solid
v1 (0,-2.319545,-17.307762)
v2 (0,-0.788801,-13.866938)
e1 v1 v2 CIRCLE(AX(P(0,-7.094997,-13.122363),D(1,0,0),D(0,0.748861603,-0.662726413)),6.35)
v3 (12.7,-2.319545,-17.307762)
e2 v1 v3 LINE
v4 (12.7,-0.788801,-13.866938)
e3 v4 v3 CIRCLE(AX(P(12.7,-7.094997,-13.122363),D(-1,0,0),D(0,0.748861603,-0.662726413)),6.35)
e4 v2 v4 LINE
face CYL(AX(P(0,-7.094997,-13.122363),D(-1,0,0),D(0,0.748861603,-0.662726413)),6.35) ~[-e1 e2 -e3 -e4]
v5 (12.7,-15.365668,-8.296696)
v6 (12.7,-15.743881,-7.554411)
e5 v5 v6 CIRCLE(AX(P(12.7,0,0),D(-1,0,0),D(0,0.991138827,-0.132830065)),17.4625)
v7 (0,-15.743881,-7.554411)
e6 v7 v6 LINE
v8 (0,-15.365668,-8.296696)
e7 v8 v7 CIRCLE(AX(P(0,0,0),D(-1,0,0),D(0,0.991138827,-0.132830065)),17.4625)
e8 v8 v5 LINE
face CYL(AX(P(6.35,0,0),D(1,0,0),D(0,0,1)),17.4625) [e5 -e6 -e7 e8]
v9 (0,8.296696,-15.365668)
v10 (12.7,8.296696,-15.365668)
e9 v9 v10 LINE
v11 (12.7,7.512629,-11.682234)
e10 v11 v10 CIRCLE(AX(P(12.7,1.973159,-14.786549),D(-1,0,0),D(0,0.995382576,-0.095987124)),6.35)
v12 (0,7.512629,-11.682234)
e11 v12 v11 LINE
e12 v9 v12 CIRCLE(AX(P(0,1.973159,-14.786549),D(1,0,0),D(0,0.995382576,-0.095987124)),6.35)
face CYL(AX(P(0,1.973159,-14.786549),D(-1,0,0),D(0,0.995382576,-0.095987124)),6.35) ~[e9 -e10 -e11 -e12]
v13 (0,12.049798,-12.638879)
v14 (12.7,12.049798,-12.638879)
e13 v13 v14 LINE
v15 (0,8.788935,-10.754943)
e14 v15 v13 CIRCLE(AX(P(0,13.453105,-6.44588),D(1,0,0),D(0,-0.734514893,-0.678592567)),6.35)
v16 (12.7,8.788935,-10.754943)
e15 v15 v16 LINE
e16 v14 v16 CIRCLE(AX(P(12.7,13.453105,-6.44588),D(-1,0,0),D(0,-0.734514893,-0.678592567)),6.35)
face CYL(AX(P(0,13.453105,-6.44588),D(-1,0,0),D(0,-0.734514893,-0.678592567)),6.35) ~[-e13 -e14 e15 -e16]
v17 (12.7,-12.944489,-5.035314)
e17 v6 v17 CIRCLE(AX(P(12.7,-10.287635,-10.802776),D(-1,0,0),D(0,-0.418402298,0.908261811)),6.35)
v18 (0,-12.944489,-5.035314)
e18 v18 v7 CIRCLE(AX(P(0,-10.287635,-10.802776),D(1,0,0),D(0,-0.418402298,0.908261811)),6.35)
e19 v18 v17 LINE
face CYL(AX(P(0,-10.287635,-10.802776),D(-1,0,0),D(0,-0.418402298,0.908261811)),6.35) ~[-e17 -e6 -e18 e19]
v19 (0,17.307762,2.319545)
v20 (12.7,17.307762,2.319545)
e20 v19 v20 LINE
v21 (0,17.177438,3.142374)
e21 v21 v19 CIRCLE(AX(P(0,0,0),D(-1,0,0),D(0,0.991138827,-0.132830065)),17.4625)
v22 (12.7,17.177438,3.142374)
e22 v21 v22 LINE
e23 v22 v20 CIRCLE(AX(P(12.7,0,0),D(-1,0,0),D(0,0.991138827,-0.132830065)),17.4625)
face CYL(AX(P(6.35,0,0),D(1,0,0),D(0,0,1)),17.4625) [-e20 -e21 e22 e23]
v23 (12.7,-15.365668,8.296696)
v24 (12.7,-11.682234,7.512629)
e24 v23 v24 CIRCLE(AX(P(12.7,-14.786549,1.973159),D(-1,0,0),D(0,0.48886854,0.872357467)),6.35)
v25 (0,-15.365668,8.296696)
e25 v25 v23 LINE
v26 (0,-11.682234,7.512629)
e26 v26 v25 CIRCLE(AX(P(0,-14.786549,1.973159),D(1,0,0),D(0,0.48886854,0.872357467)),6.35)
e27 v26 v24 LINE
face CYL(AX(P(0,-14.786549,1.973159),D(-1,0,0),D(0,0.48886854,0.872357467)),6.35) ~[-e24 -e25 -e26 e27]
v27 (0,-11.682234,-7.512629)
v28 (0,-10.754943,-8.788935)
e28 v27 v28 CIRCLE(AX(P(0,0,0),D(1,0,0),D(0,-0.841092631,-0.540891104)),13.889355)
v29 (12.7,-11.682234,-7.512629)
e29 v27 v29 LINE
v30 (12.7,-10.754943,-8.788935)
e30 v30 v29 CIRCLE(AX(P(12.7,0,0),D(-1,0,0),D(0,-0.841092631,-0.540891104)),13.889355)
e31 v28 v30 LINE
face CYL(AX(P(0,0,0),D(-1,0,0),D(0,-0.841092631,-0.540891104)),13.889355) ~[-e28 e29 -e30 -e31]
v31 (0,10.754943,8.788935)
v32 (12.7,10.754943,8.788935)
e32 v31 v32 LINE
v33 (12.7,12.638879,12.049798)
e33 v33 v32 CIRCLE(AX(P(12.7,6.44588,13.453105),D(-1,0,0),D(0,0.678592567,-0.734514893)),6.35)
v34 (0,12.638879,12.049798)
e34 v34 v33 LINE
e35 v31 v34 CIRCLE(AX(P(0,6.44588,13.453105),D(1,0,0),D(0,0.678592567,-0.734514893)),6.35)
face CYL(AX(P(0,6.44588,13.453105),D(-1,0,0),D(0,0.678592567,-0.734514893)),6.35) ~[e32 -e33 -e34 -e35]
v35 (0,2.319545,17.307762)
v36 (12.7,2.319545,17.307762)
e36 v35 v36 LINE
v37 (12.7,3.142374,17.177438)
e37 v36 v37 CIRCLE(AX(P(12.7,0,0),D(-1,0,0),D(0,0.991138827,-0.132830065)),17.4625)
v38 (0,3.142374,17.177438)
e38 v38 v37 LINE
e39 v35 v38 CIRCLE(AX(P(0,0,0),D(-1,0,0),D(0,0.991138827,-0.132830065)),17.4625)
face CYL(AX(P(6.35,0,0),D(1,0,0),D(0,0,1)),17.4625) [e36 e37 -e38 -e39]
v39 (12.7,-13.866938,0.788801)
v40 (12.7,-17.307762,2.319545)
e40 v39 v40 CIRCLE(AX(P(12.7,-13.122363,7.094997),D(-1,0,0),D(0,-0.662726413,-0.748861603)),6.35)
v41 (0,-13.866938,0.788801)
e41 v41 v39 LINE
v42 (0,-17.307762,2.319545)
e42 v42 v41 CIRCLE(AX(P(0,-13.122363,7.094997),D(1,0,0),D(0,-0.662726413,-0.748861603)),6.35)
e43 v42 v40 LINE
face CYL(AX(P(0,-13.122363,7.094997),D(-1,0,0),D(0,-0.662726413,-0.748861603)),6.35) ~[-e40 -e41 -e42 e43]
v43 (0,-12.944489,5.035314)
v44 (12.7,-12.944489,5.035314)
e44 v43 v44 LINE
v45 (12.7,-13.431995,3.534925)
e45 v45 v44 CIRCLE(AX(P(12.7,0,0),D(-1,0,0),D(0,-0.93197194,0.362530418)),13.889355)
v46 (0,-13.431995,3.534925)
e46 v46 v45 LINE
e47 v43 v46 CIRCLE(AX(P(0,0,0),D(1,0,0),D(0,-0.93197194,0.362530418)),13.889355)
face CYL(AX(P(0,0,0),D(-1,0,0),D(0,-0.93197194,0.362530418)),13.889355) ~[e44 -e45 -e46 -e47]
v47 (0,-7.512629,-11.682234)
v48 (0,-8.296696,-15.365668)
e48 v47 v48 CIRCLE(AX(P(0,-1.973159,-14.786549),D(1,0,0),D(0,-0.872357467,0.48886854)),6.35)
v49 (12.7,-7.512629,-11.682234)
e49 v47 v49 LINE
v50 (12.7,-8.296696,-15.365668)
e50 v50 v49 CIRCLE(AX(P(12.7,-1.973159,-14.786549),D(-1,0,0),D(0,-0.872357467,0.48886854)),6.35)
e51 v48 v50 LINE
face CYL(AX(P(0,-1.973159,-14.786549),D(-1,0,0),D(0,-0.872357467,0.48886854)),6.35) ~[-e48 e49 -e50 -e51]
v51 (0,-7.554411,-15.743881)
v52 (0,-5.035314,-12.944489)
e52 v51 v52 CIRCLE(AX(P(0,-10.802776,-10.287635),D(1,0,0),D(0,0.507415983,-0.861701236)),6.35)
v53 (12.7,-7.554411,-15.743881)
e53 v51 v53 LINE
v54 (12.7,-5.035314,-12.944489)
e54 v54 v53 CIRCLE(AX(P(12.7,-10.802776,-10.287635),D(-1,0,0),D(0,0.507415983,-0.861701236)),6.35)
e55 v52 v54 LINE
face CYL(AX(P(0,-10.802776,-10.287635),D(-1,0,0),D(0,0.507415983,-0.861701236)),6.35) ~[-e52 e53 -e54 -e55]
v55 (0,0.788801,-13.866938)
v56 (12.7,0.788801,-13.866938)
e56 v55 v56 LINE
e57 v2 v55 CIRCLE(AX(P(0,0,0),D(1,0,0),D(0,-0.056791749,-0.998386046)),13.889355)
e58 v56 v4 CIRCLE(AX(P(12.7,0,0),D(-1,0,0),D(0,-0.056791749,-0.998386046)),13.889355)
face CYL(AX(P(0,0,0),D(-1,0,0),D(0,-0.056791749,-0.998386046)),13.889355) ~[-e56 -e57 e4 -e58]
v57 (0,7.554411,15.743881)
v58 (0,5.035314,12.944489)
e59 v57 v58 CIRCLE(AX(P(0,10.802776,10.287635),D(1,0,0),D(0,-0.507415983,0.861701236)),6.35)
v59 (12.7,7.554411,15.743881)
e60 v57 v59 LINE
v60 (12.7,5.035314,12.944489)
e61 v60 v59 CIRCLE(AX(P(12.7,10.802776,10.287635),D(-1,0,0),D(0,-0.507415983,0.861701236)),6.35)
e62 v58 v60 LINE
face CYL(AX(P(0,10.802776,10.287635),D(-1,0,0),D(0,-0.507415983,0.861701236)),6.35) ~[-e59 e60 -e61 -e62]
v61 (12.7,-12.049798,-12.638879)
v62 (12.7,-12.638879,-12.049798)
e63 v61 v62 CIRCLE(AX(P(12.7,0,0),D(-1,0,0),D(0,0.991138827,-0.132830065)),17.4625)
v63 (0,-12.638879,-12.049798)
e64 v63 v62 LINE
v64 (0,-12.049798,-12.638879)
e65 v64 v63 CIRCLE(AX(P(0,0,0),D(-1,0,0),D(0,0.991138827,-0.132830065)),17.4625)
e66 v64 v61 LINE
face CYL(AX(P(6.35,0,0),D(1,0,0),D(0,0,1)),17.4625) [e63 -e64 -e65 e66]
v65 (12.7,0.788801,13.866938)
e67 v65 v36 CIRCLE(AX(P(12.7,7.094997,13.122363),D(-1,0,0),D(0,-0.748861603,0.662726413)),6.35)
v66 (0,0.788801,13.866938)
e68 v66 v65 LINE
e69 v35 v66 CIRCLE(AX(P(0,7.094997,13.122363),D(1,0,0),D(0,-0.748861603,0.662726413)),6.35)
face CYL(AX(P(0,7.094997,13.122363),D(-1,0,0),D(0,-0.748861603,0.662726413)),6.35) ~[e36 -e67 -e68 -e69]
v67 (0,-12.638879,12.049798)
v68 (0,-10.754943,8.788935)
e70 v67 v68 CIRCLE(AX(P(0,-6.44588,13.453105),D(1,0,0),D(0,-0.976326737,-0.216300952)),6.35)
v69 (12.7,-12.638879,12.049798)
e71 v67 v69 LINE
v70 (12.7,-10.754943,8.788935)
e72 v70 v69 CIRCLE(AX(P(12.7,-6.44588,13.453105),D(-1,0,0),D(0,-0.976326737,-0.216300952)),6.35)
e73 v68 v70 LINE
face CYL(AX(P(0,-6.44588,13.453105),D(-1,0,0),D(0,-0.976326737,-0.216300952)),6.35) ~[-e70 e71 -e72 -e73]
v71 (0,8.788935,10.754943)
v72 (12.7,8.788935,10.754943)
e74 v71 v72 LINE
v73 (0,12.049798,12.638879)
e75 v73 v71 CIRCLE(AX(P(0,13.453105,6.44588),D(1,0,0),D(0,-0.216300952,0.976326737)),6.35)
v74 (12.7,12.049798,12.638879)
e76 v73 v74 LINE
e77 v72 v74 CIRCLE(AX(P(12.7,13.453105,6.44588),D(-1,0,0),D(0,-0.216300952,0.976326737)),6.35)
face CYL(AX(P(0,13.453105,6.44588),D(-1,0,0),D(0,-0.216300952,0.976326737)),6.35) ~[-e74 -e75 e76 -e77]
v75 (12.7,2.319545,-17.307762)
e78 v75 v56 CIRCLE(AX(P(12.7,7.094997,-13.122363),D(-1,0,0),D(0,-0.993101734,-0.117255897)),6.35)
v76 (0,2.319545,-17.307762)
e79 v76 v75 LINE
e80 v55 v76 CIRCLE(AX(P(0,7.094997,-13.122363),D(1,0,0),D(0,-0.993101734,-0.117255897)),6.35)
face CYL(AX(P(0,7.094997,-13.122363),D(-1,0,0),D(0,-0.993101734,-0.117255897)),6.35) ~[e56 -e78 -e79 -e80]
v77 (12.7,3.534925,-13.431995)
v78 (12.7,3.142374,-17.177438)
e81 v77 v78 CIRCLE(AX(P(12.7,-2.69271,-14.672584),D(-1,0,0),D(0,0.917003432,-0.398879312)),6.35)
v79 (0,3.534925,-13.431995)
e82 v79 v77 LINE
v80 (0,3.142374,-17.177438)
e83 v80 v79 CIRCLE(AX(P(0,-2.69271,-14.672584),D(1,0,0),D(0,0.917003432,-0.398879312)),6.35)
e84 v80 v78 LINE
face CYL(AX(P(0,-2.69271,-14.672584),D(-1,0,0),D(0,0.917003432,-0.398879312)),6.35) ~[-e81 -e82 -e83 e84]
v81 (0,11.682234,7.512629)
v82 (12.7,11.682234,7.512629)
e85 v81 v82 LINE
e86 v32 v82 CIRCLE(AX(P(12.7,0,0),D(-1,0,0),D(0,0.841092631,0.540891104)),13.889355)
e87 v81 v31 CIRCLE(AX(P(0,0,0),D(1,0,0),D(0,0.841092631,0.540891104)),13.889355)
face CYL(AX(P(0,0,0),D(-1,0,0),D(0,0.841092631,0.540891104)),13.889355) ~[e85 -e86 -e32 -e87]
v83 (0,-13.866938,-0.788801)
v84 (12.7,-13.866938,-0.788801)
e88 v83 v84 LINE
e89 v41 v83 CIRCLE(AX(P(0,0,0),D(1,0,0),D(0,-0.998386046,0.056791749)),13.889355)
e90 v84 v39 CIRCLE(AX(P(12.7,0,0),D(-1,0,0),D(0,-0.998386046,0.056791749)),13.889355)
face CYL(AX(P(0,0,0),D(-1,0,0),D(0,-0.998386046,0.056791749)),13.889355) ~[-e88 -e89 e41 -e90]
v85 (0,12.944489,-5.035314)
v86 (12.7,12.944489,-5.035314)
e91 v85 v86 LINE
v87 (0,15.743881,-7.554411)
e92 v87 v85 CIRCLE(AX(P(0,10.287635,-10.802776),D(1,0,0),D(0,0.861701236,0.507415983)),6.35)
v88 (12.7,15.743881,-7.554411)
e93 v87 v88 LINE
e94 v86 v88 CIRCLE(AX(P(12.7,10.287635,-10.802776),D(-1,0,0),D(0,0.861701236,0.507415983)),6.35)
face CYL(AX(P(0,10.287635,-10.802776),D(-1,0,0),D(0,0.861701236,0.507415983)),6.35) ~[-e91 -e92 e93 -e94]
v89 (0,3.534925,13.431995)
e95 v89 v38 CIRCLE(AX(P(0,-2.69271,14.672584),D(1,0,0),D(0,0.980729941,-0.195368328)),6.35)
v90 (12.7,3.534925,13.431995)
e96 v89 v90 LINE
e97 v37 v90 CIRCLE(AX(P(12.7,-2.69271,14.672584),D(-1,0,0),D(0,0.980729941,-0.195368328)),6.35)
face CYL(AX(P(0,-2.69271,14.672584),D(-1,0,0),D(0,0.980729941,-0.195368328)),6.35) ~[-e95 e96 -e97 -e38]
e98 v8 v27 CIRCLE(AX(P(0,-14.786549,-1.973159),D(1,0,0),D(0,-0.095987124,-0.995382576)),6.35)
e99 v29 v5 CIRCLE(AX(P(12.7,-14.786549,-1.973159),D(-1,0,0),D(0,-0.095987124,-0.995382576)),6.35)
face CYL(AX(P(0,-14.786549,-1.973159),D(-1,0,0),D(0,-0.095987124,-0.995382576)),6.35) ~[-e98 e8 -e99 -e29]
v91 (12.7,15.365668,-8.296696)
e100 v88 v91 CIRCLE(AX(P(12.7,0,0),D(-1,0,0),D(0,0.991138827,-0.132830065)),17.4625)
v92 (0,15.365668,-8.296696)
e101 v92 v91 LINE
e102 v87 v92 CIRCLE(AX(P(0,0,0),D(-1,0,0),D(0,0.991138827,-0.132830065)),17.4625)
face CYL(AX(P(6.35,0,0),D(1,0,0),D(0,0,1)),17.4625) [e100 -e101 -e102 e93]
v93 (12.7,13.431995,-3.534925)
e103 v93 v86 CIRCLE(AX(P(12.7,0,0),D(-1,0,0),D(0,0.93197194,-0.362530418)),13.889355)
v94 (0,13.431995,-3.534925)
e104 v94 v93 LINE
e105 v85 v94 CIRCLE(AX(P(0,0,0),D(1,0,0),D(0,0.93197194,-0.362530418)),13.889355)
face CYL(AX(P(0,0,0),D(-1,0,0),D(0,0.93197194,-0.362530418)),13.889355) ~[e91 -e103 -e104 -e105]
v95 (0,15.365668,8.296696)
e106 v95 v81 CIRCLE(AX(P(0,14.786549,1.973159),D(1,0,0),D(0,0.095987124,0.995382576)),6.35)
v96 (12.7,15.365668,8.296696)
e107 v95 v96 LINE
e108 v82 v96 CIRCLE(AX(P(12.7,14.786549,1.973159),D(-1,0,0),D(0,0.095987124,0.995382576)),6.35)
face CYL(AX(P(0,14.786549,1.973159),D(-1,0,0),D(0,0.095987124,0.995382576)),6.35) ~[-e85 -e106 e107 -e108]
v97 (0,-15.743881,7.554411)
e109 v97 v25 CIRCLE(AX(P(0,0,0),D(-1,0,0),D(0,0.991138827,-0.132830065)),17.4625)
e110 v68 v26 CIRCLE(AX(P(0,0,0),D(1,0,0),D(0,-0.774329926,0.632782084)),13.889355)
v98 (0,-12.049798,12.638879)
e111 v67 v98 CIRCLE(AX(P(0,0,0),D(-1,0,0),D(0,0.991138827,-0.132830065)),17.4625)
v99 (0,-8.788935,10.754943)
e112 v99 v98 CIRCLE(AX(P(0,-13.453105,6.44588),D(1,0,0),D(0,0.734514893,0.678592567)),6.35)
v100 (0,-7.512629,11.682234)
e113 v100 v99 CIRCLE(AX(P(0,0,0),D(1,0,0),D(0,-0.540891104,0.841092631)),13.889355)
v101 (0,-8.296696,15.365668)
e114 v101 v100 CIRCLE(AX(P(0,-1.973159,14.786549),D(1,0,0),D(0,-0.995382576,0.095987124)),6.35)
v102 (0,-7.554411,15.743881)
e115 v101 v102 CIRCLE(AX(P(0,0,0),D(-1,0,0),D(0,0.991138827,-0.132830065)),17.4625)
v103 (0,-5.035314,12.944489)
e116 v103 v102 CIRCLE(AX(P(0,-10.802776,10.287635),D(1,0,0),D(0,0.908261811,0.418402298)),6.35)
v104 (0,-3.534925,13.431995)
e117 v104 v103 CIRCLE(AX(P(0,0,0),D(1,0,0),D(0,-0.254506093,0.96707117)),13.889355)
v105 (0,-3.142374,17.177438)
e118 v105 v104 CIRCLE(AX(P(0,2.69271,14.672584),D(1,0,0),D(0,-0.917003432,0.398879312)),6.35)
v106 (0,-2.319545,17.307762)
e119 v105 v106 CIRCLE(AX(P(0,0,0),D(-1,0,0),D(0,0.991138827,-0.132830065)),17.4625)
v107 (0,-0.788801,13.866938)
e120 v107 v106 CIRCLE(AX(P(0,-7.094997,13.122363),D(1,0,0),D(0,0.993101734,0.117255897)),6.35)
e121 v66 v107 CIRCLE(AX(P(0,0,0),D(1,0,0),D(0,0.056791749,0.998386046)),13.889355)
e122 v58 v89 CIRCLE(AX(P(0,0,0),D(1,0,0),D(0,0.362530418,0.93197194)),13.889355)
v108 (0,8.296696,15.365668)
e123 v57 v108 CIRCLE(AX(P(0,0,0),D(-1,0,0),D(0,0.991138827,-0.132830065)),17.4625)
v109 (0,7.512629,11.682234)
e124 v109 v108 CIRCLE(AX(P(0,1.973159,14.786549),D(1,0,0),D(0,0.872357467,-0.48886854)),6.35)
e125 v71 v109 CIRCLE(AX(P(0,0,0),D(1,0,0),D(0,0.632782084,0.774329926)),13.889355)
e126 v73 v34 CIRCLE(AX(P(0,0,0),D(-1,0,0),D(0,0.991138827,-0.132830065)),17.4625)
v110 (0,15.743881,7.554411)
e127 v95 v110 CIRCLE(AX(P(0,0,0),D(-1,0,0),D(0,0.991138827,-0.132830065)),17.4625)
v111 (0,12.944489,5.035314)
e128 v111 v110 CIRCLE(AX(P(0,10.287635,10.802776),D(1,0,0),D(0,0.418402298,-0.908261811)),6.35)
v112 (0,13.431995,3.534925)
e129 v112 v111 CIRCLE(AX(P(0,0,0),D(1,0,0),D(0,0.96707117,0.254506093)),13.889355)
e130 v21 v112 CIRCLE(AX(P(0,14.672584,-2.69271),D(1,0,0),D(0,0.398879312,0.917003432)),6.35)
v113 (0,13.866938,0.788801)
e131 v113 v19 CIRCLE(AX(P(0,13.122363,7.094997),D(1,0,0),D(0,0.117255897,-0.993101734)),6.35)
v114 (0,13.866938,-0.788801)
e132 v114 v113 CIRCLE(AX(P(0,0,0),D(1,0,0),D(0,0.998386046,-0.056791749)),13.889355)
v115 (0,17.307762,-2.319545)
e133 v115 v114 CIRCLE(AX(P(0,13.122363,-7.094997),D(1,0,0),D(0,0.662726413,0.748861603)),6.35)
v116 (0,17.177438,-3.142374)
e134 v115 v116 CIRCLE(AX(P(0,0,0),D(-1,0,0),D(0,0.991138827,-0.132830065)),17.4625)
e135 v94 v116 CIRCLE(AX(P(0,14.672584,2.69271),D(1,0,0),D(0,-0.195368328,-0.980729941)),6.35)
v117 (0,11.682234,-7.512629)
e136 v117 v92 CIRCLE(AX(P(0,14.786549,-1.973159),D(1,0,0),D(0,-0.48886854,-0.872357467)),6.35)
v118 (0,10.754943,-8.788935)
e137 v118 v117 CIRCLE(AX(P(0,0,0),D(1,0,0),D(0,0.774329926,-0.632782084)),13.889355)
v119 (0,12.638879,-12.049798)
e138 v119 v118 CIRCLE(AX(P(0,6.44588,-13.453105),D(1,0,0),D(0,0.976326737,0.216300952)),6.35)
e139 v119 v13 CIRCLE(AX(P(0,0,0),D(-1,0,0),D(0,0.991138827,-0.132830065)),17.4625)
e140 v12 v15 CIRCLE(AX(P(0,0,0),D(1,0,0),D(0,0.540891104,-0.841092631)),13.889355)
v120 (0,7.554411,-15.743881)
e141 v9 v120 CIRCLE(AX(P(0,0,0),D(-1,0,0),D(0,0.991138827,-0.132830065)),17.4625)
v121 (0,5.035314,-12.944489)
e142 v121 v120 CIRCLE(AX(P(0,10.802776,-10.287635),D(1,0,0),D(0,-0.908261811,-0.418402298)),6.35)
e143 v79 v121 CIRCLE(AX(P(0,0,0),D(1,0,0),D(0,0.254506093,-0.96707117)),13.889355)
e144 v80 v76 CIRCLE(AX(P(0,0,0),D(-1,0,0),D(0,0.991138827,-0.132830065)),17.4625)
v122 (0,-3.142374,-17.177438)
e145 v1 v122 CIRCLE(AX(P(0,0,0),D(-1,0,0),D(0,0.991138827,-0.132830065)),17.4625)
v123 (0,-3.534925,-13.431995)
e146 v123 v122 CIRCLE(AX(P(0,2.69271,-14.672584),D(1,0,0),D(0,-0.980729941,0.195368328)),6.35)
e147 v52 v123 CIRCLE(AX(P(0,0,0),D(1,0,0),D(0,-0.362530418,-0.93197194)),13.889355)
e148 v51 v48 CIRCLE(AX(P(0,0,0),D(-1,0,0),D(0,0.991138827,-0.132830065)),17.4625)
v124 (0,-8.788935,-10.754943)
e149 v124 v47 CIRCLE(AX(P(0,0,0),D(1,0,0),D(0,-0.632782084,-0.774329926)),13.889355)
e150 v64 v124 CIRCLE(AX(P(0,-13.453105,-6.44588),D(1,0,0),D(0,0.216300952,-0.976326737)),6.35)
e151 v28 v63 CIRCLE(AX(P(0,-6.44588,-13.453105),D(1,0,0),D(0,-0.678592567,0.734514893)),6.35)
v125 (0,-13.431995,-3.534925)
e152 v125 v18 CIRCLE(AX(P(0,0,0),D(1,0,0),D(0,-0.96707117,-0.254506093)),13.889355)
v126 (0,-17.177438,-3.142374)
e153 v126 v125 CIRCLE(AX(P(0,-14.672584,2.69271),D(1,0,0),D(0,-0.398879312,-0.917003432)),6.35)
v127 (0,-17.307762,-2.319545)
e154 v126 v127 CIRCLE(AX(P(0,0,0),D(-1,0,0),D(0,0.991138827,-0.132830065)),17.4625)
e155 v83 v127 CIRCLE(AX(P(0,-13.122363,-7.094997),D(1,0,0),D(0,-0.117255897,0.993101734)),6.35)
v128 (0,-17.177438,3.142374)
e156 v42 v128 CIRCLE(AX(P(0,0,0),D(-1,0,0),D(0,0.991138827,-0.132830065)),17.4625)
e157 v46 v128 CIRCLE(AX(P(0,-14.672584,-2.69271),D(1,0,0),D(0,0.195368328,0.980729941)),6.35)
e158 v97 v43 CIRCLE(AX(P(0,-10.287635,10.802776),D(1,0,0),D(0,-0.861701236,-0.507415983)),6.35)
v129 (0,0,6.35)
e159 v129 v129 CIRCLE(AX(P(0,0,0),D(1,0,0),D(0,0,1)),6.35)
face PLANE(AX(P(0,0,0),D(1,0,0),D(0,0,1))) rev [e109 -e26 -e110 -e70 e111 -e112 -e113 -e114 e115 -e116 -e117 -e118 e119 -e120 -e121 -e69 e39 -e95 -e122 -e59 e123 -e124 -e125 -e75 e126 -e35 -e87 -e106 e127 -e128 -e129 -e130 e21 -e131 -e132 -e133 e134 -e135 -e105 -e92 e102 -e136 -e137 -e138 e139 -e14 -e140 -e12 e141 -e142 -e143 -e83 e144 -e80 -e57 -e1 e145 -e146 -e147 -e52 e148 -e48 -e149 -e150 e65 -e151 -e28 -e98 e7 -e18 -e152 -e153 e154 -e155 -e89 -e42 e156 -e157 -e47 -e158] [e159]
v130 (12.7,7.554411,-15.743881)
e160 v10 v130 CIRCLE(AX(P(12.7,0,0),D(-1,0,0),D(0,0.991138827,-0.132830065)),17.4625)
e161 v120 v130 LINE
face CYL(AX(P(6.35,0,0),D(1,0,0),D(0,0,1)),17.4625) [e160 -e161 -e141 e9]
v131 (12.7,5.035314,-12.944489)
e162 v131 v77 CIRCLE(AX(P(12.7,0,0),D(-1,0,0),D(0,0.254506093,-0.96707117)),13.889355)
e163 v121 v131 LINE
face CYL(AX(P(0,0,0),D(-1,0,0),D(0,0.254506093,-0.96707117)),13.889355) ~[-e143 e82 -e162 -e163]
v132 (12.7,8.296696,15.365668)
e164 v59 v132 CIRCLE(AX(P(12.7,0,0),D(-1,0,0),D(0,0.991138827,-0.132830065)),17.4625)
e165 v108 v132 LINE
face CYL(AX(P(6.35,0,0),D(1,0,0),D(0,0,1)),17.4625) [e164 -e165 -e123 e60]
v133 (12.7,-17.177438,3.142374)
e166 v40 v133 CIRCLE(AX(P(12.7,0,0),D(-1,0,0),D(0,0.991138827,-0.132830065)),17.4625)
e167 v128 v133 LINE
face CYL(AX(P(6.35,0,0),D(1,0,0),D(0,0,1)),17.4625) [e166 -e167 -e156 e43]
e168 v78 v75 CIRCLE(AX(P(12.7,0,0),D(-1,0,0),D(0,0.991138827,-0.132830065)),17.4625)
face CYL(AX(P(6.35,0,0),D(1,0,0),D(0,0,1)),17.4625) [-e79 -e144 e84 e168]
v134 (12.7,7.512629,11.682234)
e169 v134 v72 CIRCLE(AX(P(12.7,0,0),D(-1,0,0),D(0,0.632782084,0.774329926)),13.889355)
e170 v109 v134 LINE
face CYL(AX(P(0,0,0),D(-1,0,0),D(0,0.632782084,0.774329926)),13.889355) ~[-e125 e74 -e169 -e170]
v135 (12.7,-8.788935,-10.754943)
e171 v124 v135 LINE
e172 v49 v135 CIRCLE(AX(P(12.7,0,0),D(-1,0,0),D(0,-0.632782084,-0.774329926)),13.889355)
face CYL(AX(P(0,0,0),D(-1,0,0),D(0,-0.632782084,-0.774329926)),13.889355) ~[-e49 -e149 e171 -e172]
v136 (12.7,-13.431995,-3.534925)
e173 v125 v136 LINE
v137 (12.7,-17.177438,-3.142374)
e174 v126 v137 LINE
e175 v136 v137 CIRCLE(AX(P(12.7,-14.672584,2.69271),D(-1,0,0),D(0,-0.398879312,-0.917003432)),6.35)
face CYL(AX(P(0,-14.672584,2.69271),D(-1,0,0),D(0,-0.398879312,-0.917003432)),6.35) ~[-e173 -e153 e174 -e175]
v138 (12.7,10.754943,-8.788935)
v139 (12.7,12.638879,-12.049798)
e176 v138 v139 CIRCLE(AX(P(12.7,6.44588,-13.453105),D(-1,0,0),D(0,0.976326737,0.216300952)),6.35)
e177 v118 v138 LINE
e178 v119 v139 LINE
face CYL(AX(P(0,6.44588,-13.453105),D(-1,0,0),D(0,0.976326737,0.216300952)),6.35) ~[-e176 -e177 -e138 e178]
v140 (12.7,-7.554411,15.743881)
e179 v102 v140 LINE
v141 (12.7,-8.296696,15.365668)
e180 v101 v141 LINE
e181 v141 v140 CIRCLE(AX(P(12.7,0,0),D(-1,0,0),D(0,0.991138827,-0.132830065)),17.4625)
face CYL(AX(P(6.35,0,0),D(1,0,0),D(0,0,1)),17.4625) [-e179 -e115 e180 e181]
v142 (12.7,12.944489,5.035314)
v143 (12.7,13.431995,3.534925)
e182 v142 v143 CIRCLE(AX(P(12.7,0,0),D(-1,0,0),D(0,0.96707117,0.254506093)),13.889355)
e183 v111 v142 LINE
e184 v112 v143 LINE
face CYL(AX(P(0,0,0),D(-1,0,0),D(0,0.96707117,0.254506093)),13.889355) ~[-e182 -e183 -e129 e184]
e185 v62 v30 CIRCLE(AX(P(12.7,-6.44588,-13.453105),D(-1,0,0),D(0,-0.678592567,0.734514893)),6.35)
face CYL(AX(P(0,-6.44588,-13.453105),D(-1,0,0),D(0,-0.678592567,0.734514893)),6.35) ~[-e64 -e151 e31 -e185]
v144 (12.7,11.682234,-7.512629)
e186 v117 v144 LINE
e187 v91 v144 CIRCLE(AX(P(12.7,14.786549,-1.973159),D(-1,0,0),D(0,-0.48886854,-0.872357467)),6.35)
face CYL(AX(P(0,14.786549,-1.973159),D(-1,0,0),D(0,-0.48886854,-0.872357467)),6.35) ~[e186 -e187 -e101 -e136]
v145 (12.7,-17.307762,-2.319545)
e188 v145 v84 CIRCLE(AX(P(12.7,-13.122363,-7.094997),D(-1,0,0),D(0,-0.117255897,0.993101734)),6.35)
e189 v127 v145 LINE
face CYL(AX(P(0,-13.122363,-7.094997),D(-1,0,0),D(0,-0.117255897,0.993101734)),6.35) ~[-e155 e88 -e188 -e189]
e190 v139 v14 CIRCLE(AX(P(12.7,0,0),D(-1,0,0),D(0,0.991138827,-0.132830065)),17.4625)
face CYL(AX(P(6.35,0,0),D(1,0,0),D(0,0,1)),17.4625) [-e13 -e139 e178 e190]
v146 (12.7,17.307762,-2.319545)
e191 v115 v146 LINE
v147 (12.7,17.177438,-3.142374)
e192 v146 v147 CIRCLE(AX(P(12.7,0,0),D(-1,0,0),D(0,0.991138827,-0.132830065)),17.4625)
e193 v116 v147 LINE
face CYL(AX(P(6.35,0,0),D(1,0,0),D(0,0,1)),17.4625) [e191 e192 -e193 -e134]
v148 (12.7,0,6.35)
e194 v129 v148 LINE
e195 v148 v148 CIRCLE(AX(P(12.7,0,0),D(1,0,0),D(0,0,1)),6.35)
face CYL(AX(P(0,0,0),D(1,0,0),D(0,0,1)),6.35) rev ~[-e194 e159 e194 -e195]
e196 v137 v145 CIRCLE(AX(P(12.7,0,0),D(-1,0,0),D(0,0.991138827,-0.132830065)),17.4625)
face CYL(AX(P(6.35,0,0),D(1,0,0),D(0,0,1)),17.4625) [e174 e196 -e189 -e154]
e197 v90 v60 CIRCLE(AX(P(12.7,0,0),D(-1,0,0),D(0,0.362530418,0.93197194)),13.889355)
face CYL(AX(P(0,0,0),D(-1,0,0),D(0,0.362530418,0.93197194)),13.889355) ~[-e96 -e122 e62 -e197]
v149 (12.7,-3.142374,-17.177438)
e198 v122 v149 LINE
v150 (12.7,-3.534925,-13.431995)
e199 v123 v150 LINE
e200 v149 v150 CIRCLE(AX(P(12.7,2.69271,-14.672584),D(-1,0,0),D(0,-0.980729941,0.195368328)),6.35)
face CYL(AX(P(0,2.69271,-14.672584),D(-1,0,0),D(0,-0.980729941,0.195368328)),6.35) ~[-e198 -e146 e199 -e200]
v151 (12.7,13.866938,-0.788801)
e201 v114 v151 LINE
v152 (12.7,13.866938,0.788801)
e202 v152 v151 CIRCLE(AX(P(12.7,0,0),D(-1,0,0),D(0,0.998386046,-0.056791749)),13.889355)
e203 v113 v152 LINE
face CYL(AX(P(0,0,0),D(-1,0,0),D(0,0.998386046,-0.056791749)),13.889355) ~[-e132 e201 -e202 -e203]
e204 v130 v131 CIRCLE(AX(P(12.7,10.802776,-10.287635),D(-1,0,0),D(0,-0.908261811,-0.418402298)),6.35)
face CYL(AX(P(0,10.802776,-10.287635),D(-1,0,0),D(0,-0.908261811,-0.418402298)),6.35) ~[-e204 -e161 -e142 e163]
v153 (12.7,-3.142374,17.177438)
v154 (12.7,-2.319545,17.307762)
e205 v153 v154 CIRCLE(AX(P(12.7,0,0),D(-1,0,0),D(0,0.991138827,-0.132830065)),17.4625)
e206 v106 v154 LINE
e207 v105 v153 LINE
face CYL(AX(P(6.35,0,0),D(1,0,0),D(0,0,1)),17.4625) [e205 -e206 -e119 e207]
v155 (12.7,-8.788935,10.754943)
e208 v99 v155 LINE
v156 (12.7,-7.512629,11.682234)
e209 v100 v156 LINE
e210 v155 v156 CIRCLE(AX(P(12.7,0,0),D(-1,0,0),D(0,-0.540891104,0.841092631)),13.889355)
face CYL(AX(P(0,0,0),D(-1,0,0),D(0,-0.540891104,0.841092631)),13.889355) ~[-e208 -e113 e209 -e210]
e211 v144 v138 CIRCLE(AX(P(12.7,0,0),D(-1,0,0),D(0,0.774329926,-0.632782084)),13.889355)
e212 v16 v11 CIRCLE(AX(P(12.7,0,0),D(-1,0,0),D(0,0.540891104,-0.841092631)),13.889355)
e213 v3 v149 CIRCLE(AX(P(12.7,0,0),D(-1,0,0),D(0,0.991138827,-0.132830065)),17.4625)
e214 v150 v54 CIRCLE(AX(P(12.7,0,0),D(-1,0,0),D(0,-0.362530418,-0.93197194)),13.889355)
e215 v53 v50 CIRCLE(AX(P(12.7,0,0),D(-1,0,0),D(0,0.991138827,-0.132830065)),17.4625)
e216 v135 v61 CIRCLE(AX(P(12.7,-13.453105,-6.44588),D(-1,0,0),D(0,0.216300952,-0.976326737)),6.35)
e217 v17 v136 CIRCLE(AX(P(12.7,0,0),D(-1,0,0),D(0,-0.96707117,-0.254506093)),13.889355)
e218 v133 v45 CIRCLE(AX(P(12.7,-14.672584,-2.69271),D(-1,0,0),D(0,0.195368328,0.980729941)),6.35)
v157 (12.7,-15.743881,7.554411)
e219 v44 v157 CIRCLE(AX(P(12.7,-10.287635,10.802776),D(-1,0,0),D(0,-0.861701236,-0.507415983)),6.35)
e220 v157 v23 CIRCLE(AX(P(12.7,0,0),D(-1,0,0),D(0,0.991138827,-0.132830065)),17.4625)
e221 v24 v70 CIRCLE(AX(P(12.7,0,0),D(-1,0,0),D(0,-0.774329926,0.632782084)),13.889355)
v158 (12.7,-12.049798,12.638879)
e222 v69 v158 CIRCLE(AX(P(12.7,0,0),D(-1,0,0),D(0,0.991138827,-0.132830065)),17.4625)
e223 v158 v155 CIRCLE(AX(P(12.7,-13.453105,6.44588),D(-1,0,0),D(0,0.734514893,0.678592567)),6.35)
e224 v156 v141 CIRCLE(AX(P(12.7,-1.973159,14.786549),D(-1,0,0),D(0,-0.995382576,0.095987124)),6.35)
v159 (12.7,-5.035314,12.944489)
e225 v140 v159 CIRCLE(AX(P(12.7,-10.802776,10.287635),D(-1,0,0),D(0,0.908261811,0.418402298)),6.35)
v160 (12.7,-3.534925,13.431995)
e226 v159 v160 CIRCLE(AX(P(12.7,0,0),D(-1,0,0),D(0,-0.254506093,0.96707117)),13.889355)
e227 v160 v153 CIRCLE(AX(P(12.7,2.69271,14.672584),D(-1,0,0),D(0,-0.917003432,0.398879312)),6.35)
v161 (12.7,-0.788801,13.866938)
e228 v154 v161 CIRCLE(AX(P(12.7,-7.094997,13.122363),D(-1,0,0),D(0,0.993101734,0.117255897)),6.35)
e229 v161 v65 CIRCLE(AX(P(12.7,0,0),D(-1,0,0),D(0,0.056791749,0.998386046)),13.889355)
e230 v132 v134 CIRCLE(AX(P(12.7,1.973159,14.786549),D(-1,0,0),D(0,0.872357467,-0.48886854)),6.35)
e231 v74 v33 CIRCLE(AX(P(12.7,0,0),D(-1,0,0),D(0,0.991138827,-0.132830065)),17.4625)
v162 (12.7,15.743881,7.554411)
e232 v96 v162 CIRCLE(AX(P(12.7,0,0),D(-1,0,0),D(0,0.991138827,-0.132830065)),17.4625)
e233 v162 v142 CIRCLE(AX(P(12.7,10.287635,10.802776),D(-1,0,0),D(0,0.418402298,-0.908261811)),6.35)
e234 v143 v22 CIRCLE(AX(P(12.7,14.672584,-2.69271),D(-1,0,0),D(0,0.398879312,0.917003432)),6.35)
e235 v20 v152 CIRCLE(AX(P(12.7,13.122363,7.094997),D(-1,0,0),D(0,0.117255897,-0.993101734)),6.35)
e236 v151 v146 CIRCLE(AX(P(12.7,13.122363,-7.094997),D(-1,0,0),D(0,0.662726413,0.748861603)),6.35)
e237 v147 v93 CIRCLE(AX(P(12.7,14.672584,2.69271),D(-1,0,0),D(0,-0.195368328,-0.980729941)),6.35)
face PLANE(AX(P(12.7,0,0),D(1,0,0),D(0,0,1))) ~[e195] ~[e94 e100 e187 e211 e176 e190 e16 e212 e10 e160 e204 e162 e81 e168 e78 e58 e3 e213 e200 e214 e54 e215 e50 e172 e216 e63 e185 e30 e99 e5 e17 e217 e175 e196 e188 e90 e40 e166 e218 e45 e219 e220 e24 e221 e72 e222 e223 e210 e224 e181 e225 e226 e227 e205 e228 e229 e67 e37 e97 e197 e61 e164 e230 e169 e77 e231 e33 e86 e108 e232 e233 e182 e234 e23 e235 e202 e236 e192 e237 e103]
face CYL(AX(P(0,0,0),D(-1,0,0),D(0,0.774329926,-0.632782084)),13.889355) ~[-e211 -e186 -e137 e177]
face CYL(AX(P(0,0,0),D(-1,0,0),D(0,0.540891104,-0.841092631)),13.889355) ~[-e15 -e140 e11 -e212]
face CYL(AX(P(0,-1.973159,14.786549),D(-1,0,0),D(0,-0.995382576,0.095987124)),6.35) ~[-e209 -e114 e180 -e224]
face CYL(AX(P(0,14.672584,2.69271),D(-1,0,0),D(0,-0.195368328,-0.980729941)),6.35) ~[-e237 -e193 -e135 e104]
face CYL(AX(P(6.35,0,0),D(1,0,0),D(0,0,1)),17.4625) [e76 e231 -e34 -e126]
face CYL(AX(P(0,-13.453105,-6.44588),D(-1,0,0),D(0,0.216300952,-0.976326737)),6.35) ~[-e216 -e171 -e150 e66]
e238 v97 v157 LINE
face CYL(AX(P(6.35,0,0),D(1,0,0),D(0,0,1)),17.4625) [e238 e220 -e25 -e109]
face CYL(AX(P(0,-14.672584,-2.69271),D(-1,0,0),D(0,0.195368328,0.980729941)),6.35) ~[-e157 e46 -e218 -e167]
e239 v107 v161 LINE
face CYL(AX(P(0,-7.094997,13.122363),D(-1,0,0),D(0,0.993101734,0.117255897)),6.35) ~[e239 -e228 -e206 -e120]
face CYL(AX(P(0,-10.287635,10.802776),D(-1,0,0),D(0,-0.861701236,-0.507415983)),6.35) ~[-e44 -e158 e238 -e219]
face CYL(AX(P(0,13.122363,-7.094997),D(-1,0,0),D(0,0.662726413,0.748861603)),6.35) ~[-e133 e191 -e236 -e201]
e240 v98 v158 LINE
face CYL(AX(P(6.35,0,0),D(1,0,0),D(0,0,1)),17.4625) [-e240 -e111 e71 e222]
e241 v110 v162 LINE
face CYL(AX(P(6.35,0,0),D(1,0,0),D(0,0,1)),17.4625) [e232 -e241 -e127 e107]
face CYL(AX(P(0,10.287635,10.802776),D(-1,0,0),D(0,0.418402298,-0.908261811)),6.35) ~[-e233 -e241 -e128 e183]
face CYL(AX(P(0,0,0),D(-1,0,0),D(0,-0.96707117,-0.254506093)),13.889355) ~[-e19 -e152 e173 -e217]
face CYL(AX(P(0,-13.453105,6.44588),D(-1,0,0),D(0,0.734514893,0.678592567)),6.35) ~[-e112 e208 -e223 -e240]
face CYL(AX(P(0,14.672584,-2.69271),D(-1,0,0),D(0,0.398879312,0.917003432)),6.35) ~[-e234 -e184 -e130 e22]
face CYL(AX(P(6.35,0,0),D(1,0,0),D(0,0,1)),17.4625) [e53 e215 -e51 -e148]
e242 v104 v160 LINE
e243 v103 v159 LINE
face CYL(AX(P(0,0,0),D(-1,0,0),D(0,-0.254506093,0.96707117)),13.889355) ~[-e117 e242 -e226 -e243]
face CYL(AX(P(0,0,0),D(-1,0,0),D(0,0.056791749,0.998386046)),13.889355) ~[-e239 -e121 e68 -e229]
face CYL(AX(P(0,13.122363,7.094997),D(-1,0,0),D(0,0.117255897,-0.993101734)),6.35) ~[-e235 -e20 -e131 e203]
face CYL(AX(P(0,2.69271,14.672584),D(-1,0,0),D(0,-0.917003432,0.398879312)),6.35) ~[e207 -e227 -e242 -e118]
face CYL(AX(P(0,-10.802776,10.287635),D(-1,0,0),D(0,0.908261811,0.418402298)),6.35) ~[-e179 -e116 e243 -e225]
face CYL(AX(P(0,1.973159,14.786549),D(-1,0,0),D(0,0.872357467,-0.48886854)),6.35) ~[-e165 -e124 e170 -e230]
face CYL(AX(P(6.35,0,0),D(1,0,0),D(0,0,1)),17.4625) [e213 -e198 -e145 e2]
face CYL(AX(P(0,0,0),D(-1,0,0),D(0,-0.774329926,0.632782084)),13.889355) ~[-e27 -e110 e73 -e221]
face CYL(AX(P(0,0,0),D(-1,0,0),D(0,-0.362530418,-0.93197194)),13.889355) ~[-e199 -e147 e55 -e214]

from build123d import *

# Parameters (mm, degrees)
BASPROSKE_W     = 12.7
BASPROSKE_H     = 17.4625
TOOTHCUT_DEPTH  = 28.769908399
TEETHCUTS_COUNT = 20
TEETHCUTS_ANGLE = 342
BORSKE_R        = 6.35
BORE_DEPTH      = 50.8000508


with BuildPart() as part:
    # BasProSke → Base-Revolve (revolve)
    with BuildSketch(Plane(origin=(0, 0, 0), x_dir=(1, 0, 0), z_dir=(0, 1, 0)), mode=Mode.PRIVATE) as base_revolve_sk:
        with Locations((6.35, 8.73125)):
            Rectangle(BASPROSKE_W, BASPROSKE_H)
    revolve(base_revolve_sk.sketch.rotate(Axis((-10, 0, 0), (1, 0, 0)), 180), axis=Axis((-10, 0, 0), (1, 0, 0)))

    # TooCutSke → ToothCut (cut, through all)
    with BuildSketch(Plane(origin=(0, 0, 0), x_dir=(0, 0, -1), z_dir=(1, 0, 0))):
        with BuildLine():
            ThreePointArc((0.788800759, 13.866938223), (0, 13.889355), (-0.788800759, 13.866938223))
            ThreePointArc((-0.788800759, 13.866938223), (-1.299448137, 15.717380814), (-2.339725589, 17.330675999))
            ThreePointArc((-2.339725589, 17.330675999), (0, 17.4879), (2.339725589, 17.330675999))
            ThreePointArc((2.339725589, 17.330675999), (1.299448137, 15.717380814), (0.788800759, 13.866938223))
        make_face()
    toothcut = extrude(amount=TOOTHCUT_DEPTH, mode=Mode.SUBTRACT)

    # TeethCuts: ToothCut ×20 about axis
    teethcuts_axis = Axis((-10, 0, 0), (1, 0, 0))
    for i in range(1, TEETHCUTS_COUNT):
        add(toothcut.rotate(teethcuts_axis, i * TEETHCUTS_ANGLE / (TEETHCUTS_COUNT - 1)), mode=Mode.SUBTRACT)

    # BorSke → Bore (cut, symmetric)
    with BuildSketch(Plane(origin=(0, 0, 0), x_dir=(0, 0, -1), z_dir=(1, 0, 0))):
        with Locations(Location((0, 0, 0), (0, 0, 180))):
            Circle(BORSKE_R)
    extrude(amount=BORE_DEPTH, both=True, mode=Mode.SUBTRACT)


solid = part.part
